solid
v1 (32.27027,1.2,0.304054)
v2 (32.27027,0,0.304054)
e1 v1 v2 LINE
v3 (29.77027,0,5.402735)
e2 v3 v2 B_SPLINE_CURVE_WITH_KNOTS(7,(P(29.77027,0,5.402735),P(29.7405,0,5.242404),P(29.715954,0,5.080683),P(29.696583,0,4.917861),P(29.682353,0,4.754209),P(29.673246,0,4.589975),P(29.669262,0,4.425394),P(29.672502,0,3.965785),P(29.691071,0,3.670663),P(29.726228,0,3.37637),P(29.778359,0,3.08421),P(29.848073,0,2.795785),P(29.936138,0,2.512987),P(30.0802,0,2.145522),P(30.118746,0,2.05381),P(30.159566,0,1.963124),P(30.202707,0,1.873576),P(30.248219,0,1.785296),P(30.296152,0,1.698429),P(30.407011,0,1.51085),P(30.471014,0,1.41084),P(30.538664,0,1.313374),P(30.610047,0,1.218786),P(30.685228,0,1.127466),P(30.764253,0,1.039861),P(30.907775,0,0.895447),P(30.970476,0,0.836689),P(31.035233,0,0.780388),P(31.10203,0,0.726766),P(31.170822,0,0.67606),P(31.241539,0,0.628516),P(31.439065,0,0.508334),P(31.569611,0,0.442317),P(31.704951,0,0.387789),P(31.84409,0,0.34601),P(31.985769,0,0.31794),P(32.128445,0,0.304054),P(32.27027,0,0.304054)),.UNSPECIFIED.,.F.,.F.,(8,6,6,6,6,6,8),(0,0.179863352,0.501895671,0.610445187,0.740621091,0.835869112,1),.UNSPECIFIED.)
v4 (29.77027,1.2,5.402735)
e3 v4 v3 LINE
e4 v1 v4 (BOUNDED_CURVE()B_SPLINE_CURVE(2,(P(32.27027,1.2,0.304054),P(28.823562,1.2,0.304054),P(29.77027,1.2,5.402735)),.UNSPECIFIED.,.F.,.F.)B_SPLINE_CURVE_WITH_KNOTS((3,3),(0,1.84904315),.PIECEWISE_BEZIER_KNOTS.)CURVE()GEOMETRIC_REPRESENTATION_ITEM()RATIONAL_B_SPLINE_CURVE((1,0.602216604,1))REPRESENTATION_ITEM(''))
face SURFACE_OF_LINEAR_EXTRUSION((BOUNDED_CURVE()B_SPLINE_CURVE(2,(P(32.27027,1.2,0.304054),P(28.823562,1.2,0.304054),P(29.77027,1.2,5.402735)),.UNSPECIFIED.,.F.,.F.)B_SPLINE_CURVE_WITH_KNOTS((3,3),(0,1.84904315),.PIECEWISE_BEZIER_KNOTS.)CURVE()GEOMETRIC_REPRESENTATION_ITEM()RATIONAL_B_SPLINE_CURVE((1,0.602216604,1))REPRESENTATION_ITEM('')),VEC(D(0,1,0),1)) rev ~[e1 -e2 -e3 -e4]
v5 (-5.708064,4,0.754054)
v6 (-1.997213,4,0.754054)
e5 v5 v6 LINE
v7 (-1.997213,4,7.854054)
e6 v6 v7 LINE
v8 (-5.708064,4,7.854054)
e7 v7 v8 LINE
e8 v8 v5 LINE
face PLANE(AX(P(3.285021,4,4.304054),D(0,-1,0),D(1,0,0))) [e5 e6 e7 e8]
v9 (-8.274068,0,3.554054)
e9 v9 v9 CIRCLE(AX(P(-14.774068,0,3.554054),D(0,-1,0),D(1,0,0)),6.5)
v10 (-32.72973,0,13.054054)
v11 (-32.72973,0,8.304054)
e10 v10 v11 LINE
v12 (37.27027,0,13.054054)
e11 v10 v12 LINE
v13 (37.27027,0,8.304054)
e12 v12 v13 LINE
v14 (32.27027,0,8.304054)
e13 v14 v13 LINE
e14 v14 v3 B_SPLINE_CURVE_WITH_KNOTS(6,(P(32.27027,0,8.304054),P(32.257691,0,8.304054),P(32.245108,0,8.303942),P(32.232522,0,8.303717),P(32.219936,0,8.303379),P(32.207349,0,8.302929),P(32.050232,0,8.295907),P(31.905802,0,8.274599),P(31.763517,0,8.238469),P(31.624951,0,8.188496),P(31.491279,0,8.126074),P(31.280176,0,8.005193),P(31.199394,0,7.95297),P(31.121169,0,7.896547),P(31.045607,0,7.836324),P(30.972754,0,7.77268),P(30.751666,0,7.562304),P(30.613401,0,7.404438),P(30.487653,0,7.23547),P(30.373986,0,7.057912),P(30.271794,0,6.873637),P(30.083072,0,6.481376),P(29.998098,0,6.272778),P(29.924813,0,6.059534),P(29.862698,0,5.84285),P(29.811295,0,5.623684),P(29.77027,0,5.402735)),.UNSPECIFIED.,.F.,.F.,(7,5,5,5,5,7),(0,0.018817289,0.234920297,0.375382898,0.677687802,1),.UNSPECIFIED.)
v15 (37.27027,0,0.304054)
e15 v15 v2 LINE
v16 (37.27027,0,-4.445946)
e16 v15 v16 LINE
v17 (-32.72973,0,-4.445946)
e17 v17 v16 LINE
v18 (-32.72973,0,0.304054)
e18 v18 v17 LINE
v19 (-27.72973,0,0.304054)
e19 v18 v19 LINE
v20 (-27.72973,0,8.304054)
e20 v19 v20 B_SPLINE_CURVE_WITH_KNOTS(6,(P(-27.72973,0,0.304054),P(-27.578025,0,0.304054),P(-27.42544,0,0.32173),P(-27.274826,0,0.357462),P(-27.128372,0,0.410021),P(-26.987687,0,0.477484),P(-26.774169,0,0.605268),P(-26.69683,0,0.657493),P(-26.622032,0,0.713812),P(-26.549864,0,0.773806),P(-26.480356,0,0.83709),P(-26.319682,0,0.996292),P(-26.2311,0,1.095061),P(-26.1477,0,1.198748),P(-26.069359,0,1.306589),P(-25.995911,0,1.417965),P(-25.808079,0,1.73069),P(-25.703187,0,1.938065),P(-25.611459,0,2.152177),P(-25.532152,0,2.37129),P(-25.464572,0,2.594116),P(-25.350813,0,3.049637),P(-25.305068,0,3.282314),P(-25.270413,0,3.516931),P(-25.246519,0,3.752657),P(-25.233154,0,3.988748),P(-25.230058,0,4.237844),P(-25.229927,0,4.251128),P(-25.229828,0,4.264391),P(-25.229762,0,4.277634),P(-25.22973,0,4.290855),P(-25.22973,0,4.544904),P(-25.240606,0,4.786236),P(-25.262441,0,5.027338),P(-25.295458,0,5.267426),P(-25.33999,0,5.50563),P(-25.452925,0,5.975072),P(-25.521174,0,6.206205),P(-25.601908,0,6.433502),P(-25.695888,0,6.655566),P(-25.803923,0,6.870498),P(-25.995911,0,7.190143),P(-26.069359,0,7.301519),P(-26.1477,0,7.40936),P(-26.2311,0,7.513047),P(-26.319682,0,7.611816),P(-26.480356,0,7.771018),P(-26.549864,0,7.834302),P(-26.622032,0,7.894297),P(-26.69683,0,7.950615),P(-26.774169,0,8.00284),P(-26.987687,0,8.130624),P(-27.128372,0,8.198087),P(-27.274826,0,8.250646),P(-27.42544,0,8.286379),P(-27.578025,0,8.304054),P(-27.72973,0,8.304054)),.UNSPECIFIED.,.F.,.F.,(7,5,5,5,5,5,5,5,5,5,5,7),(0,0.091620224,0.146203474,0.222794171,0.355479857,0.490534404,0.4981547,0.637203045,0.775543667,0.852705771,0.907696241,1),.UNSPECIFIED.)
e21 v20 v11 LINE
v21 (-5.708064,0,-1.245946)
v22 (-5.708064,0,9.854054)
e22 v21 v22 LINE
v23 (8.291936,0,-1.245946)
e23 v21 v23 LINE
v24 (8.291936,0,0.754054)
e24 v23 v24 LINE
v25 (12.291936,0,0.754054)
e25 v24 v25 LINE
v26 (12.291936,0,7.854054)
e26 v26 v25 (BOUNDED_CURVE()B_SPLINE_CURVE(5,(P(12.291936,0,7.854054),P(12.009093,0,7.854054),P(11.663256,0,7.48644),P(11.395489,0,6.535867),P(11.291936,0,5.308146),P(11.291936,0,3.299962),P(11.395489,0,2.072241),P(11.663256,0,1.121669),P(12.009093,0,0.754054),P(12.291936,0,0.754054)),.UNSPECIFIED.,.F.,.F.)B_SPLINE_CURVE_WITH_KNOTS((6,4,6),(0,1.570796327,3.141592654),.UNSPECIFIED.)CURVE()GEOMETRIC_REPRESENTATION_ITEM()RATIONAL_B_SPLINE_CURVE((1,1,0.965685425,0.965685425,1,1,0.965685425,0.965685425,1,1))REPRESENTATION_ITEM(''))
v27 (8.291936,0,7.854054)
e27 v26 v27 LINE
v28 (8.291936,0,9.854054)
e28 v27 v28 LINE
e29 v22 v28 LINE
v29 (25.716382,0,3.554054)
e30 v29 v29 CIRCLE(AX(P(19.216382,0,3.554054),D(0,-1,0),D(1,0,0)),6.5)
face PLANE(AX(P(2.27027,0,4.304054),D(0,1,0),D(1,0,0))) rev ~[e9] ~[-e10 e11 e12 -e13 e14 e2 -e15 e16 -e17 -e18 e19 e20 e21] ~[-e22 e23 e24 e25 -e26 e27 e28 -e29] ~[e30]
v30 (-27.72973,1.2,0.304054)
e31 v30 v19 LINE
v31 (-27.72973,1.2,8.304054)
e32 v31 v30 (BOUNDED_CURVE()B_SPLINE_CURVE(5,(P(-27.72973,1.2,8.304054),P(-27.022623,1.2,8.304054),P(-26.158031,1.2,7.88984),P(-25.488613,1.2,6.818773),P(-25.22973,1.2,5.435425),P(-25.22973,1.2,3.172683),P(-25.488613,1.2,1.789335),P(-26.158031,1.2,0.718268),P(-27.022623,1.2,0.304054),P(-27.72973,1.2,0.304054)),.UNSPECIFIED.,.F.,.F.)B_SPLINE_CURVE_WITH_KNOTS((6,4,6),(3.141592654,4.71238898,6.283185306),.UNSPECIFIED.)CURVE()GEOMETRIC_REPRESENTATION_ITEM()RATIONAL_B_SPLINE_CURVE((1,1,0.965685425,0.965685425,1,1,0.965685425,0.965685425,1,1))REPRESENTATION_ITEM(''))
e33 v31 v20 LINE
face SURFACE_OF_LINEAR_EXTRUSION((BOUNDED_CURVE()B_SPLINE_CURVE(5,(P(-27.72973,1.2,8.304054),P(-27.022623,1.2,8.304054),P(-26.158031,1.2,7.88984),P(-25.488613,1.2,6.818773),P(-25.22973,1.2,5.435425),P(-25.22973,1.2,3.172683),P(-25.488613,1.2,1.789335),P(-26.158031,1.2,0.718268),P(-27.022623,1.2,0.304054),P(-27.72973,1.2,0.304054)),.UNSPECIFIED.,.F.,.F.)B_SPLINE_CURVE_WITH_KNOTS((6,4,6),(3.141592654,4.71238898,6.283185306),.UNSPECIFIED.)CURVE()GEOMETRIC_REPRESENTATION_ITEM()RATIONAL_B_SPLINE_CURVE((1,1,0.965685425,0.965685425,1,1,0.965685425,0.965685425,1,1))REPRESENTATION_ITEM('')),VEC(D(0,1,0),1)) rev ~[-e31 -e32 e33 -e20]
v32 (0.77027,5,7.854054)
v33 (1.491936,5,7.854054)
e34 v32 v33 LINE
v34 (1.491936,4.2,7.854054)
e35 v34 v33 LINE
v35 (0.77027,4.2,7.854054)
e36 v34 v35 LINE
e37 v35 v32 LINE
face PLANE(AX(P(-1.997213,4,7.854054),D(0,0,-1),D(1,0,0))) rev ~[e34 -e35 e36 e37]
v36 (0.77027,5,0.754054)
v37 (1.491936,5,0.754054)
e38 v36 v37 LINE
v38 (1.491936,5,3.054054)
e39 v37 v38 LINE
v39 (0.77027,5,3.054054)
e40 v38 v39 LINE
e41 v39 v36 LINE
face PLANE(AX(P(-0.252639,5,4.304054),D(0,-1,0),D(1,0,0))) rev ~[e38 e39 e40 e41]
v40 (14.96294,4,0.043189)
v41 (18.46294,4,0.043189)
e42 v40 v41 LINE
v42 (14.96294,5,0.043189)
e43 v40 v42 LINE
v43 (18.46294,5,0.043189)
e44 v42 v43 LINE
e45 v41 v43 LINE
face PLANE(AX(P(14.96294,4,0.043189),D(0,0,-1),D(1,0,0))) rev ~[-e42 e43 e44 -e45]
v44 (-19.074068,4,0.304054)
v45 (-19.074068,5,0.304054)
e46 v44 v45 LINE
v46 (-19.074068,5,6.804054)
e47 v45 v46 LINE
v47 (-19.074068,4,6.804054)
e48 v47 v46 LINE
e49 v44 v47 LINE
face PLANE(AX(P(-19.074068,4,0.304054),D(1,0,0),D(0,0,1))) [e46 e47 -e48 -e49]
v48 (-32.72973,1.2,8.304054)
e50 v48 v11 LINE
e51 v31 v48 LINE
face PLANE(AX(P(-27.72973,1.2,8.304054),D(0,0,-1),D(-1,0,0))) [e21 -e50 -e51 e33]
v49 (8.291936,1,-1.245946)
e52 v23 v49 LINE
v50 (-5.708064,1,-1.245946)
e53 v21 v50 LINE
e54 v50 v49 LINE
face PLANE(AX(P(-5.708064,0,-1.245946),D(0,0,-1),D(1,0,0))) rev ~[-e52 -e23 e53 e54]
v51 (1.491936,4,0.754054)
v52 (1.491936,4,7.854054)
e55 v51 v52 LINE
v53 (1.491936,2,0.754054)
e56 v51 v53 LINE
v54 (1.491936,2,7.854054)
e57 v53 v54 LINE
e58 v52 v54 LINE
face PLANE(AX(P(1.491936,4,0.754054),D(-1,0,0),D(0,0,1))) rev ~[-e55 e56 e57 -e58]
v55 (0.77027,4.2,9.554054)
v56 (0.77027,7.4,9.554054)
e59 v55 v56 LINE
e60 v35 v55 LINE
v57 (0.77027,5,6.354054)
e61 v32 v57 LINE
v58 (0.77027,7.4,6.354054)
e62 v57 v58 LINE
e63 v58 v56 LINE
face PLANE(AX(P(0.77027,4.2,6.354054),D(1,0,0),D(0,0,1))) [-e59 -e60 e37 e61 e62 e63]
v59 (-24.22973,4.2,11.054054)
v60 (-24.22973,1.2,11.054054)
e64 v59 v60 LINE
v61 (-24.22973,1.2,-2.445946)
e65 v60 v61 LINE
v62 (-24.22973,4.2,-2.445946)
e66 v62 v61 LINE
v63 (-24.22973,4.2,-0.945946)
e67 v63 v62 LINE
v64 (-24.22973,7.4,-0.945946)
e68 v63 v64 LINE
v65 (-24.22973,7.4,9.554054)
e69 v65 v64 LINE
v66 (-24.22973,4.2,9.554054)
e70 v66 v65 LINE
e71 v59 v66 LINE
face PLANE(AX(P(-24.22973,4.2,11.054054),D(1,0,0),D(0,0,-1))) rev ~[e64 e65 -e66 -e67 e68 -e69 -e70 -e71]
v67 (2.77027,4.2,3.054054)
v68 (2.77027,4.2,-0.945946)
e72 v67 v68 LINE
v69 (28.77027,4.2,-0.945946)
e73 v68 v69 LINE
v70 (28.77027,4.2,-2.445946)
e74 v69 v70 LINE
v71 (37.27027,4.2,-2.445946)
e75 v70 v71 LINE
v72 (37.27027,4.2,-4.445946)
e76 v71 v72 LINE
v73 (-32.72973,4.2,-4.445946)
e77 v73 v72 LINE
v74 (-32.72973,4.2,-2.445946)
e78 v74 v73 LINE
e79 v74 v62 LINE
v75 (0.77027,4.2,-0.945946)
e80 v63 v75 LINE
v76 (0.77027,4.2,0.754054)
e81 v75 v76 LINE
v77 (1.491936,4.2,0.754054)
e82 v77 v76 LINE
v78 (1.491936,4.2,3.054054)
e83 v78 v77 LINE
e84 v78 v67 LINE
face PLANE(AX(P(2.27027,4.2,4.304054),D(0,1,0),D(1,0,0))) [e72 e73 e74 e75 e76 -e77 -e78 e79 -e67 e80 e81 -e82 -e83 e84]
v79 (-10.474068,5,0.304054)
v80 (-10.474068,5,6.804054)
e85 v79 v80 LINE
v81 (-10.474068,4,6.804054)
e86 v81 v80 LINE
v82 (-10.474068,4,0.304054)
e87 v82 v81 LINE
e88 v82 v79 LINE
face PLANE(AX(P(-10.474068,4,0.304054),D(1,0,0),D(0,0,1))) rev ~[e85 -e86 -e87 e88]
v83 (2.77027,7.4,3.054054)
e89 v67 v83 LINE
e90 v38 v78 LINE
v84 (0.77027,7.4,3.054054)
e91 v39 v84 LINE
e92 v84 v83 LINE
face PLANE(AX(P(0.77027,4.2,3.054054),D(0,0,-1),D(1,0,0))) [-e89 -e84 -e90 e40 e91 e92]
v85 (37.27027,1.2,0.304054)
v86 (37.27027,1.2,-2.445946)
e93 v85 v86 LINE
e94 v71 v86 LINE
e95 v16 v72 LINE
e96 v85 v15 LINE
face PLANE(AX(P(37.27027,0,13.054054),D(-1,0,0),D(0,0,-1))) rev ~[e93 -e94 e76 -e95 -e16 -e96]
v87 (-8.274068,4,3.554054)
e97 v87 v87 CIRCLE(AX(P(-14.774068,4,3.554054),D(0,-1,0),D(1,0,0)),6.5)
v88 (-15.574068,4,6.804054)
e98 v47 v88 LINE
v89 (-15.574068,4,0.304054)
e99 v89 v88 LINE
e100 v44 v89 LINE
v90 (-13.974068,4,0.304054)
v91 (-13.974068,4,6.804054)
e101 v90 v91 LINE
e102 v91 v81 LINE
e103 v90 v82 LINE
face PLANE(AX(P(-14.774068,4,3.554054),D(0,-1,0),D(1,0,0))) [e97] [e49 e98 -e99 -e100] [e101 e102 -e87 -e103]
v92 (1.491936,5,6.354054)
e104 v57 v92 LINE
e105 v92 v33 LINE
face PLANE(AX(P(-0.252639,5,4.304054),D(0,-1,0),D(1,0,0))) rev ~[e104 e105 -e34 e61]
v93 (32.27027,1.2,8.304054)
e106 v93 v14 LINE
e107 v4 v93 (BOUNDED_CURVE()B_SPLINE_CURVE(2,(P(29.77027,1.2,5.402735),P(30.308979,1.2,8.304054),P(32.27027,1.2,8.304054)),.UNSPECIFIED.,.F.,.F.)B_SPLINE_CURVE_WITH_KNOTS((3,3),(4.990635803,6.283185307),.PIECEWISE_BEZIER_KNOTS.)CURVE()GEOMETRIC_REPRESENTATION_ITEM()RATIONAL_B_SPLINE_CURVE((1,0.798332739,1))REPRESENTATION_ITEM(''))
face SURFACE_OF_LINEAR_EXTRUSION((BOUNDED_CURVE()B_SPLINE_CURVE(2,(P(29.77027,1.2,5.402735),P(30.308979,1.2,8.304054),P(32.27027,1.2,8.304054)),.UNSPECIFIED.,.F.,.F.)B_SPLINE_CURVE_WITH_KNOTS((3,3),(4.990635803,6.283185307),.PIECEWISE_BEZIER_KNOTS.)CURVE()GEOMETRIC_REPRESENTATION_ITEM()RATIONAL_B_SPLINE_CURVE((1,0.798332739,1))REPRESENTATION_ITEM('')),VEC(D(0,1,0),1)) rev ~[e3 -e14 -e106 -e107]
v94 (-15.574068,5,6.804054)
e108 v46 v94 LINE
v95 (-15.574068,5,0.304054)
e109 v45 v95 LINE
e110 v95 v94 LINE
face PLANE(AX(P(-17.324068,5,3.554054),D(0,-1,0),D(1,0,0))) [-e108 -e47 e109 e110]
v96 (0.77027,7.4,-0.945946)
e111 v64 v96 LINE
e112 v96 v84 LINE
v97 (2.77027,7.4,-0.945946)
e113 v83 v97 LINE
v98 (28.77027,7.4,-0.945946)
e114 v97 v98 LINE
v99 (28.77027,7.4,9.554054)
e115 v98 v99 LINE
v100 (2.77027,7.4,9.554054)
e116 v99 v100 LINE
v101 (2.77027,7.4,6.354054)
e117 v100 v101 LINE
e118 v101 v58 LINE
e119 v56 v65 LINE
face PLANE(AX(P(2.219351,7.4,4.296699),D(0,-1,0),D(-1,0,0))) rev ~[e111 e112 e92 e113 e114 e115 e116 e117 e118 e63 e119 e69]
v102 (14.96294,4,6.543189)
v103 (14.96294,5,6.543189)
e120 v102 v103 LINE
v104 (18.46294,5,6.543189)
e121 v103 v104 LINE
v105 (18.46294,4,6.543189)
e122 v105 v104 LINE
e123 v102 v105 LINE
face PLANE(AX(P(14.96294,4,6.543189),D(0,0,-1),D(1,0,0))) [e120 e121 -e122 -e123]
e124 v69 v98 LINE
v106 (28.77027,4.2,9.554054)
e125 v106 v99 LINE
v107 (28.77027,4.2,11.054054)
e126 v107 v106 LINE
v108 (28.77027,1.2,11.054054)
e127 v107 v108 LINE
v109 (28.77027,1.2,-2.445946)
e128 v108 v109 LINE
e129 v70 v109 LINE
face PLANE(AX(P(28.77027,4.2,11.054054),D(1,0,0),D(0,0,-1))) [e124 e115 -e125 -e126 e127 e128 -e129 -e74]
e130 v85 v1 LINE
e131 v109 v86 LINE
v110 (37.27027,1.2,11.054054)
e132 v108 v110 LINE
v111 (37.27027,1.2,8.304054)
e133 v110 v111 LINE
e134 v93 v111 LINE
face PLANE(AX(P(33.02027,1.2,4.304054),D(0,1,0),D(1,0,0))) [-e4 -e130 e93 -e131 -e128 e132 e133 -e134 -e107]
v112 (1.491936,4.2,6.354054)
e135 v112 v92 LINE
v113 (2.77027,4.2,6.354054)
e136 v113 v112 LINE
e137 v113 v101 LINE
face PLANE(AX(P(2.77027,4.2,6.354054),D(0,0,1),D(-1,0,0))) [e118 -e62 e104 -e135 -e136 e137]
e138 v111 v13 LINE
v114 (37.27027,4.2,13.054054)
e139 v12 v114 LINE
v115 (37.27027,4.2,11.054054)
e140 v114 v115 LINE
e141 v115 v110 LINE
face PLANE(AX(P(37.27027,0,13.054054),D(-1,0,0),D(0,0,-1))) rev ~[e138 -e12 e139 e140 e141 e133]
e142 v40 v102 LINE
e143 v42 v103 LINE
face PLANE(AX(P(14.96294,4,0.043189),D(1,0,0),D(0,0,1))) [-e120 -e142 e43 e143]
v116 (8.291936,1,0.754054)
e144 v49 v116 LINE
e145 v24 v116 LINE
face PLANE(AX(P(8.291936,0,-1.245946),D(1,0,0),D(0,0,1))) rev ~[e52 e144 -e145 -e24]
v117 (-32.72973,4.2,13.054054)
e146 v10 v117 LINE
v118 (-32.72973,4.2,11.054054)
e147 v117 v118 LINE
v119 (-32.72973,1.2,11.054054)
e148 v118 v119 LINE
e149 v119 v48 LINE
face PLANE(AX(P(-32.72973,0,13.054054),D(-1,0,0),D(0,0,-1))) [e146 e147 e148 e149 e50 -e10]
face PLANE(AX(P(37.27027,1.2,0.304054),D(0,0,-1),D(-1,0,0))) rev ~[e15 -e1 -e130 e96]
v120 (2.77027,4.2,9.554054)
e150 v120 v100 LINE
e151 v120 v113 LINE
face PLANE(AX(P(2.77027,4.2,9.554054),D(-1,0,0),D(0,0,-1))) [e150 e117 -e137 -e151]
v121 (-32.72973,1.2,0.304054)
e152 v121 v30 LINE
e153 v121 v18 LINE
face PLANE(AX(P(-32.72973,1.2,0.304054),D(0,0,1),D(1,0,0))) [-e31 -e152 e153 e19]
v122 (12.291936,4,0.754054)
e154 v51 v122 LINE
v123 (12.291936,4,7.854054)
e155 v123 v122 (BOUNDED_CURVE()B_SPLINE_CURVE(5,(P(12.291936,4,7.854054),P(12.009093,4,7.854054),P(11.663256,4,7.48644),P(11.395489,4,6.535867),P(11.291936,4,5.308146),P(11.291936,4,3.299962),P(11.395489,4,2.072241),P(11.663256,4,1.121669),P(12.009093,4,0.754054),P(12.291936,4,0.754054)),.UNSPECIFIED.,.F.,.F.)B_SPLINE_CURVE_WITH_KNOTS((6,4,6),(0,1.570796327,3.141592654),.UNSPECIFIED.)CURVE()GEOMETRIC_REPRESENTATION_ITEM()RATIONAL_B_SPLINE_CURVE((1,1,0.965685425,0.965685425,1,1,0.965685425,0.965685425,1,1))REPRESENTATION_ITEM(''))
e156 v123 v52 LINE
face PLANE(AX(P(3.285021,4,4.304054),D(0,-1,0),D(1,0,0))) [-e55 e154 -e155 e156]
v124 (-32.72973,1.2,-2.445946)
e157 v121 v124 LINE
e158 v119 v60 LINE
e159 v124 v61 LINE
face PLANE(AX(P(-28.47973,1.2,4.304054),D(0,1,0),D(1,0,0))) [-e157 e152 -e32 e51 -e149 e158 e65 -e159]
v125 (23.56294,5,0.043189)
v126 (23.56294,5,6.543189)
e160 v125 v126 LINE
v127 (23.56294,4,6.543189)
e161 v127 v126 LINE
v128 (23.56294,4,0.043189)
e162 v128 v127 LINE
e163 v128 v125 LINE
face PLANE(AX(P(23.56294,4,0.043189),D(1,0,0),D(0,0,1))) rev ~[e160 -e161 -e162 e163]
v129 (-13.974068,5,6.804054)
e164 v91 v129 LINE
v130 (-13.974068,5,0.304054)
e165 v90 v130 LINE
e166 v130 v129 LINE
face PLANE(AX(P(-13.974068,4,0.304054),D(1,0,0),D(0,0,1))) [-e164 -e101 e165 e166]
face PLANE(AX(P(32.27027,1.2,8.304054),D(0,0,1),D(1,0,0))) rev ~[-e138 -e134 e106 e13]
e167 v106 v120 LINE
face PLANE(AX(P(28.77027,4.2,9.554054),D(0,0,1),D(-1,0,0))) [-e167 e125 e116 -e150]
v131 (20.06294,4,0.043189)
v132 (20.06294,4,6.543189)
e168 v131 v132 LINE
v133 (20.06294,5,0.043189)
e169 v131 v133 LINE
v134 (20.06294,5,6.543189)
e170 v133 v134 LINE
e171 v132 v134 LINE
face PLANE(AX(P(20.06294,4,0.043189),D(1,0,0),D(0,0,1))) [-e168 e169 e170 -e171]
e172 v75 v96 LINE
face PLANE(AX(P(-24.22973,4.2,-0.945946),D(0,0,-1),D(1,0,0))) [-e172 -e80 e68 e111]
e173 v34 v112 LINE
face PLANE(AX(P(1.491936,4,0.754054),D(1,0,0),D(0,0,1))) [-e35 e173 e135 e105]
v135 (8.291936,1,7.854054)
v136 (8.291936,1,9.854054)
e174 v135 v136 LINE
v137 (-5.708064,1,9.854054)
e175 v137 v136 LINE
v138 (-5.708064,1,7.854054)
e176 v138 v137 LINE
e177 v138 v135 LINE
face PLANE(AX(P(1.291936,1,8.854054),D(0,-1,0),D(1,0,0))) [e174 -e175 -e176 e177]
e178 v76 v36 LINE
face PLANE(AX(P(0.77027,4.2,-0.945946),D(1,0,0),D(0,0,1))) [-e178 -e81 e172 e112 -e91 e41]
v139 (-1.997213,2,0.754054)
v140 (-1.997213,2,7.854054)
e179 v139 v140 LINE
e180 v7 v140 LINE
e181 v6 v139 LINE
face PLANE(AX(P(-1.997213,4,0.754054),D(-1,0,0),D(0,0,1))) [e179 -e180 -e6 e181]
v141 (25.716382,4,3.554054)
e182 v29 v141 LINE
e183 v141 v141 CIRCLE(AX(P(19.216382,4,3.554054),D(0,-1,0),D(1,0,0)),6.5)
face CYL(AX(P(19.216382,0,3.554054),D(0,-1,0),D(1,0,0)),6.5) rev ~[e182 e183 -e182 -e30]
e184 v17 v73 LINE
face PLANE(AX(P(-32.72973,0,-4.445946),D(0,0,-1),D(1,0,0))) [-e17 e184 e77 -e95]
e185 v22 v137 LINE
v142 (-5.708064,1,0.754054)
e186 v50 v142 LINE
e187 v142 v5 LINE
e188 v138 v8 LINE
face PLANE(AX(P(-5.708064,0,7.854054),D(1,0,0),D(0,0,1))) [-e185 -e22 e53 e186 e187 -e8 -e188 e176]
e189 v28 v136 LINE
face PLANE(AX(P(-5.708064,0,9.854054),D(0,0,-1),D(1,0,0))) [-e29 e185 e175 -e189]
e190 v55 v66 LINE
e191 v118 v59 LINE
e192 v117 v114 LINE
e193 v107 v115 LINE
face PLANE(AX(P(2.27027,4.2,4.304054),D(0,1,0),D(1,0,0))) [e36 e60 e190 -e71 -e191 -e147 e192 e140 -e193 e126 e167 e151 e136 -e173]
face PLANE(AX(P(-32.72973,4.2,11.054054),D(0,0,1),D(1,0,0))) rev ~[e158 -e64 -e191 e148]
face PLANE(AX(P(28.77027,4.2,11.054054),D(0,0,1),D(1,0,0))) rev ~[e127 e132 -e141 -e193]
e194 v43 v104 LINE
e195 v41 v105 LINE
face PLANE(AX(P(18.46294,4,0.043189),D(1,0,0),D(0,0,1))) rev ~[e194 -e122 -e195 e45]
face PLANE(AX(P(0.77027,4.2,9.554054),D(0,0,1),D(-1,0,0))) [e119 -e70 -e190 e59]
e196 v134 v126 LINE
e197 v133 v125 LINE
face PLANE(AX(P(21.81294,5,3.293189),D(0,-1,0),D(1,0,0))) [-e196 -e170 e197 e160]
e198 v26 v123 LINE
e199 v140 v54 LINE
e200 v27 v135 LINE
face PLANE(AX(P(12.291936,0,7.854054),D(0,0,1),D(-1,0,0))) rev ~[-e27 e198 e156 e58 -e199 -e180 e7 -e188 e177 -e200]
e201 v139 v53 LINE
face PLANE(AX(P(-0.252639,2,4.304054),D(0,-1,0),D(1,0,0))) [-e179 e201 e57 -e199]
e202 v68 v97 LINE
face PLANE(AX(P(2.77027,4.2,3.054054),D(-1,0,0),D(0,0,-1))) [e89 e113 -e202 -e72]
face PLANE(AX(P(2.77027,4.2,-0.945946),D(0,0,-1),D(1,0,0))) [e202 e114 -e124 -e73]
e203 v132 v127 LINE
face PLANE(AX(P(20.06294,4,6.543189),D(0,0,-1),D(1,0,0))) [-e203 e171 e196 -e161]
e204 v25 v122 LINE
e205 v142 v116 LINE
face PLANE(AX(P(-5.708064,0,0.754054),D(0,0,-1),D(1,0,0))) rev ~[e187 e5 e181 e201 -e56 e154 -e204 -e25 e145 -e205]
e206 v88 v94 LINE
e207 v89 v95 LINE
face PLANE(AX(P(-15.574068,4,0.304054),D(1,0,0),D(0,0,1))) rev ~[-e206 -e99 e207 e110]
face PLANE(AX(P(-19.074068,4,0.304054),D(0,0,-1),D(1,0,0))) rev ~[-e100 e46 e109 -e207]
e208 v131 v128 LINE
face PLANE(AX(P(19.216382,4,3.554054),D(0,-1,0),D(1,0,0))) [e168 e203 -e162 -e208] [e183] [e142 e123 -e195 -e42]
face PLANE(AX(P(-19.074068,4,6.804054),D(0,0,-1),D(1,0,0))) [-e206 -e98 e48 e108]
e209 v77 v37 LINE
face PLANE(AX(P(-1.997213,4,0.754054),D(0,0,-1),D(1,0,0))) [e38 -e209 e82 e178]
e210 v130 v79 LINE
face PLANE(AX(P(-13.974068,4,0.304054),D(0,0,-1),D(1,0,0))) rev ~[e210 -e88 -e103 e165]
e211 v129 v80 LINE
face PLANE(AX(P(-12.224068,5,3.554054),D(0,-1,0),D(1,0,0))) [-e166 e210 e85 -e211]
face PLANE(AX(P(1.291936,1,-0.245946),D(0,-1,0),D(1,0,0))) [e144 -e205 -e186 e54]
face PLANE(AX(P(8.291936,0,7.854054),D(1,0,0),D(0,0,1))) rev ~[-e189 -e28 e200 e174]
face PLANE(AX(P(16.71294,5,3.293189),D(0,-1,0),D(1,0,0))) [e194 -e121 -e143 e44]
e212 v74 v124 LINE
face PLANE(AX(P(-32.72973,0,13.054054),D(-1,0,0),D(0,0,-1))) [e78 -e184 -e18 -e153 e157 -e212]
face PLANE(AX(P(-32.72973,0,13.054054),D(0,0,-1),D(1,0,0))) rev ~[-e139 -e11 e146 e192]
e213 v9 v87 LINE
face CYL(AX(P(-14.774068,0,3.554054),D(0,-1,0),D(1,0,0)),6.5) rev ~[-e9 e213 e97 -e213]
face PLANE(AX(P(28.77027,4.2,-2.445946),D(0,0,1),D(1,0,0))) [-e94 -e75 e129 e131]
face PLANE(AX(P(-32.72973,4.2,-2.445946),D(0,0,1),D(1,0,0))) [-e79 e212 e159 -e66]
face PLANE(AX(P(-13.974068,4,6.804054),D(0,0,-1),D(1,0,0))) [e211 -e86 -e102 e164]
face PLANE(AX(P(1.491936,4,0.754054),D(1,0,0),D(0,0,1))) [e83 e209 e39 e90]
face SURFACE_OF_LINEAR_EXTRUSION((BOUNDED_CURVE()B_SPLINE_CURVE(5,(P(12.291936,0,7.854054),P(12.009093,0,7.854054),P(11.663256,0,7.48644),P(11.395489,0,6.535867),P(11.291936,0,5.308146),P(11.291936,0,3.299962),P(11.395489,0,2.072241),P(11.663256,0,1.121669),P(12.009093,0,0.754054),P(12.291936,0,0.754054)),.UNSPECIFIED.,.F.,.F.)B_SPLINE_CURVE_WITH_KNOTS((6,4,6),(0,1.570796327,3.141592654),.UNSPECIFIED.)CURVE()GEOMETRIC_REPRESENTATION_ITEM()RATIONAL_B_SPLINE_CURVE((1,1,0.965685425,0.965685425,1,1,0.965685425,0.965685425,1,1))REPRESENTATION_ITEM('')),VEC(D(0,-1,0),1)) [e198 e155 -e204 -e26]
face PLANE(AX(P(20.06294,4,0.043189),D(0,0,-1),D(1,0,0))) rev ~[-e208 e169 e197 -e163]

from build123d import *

# Parameters (mm, degrees)
CROQUIS1_W                   = 70
CROQUIS1_H                   = 17.5
SALIENTE_EXTRUIR1_DEPTH      = 4.2
CROQUIS2_W                   = 8.5
CROQUIS2_H                   = 13.5
CORTAR_EXTRUIR1_DEPTH        = 3
CORTAR_EXTRUIR2_DEPTH        = 2.2
SALIENTE_EXTRUIR2_DEPTH      = 3.2
CROQUIS5_R                   = 6.5
CORTAR_EXTRUIR3_DEPTH        = 4
CROQUIS6_W                   = 3.5
CROQUIS6_H                   = 6.5
CORTAR_EXTRUIR4_DEPTH        = 1
CROQUIS7_W                   = 14
CROQUIS7_H                   = 2
CORTAR_EXTRUIR5_DEPTH        = 1
CORTAR_EXTRUIR6_DEPTH        = 4
CROQUIS9_W                   = 3.489148649
CROQUIS9_H                   = 7.1
SALIENTE_EXTRUIR3_DEPTH      = 2
SALIENTE_EXTRUIR3_DEPTH_BACK = 1


with BuildPart() as part:
    # Croquis1 → Saliente-Extruir1 (new body)
    with BuildSketch(Plane(origin=(0, 0, 0), x_dir=(1, 0, 0), z_dir=(0, 1, 0))):
        with Locations((2.27027027, -4.304054054)):
            Rectangle(CROQUIS1_W, CROQUIS1_H)
    extrude(amount=SALIENTE_EXTRUIR1_DEPTH)

    # Croquis2 → Cortar-Extruir1 (cut)
    with BuildSketch(Plane(origin=(0, 4.2, 0), x_dir=(1, 0, 0), z_dir=(0, 1, 0))):
        with Locations((33.02027027, -4.304054054)):
            Rectangle(CROQUIS2_W, CROQUIS2_H)
        with Locations((-28.47972973, -4.304054054)):
            Rectangle(CROQUIS2_W, CROQUIS2_H)
    extrude(amount=-CORTAR_EXTRUIR1_DEPTH, mode=Mode.SUBTRACT)

    # Croquis3 → Cortar-Extruir2 (cut, through all)
    with BuildSketch(Plane(origin=(0, 1.2, 0), x_dir=(1, 0, 0), z_dir=(0, 1, 0))):
        with BuildLine():
            Line((37.27027027, -0.304054054), (32.27027027, -0.304054054))
            add(Edge.make_bspline(
                [(32.27027027, -0.304054054), (28.823561714, -0.304054054), (29.77027027, -5.402735351)],
                knots=[0, 0, 0, 1.84904315, 1.84904315, 1.84904315], degree=2, weights=[1, 0.602216604, 1]))
            add(Edge.make_bspline(
                [(29.77027027, -5.402735351), (30.308978827, -8.304054054), (32.27027027, -8.304054054)],
                knots=[4.990635803, 4.990635803, 4.990635803, 6.283185307, 6.283185307, 6.283185307], degree=2, weights=[1, 0.798332739, 1]))
            Line((32.27027027, -8.304054054), (37.27027027, -8.304054054))
            Line((37.27027027, -8.304054054), (37.27027027, -0.304054054))
        make_face()
        with BuildLine():
            Line((-32.72972973, -0.304054054), (-27.72972973, -0.304054054))
            add(Edge.make_bspline(
                [(-25.22972973, -4.304054054), (-25.22972973, -0.304054054), (-27.72972973, -0.304054054)],
                knots=[4.71238898, 4.71238898, 4.71238898, 6.283185307, 6.283185307, 6.283185307], degree=2, weights=[1, 0.707106781, 1]))
            add(Edge.make_bspline(
                [(-27.72972973, -8.304054054), (-25.22972973, -8.304054054), (-25.22972973, -4.304054054)],
                knots=[3.141592654, 3.141592654, 3.141592654, 4.71238898, 4.71238898, 4.71238898], degree=2, weights=[1, 0.707106781, 1]))
            Line((-27.72972973, -8.304054054), (-32.72972973, -8.304054054))
            Line((-32.72972973, -8.304054054), (-32.72972973, -0.304054054))
        make_face()
    extrude(amount=-CORTAR_EXTRUIR2_DEPTH, mode=Mode.SUBTRACT)

    # Croquis4 → Saliente-Extruir2 (add)
    with BuildSketch(Plane(origin=(0, 4.2, 0), x_dir=(1, 0, 0), z_dir=(0, 1, 0))):
        Polygon((-24.22972973, 0.945945946), (0.77027027, 0.945945946), (0.77027027, -3.054054054), (2.77027027, -3.054054054), (2.77027027, 0.945945946), (28.77027027, 0.945945946), (28.77027027, -9.554054054), (2.77027027, -9.554054054), (2.77027027, -6.354054054), (0.77027027, -6.354054054), (0.77027027, -9.554054054), (-24.22972973, -9.554054054), align=None)
    extrude(amount=SALIENTE_EXTRUIR2_DEPTH)

    # Croquis5 → Cortar-Extruir3 (cut)
    with BuildSketch(Plane.XZ):
        with Locations((-14.774068223, 3.554054054)):
            Circle(CROQUIS5_R)
        with Locations((19.216382303, 3.554054054)):
            Circle(CROQUIS5_R)
    extrude(amount=-CORTAR_EXTRUIR3_DEPTH, mode=Mode.SUBTRACT)

    # Croquis6 → Cortar-Extruir4 (cut)
    with BuildSketch(Plane.XZ.offset(-4)):
        with Locations((-17.324068223, 3.554054054)):
            Rectangle(CROQUIS6_W, CROQUIS6_H)
        with Locations((-12.224068223, 3.554054054)):
            Rectangle(CROQUIS6_W, CROQUIS6_H)
        with Locations((16.712940217, 3.293189119)):
            Rectangle(CROQUIS6_W, CROQUIS6_H)
        with Locations((21.812940217, 3.293189119)):
            Rectangle(CROQUIS6_W, CROQUIS6_H)
    extrude(amount=-CORTAR_EXTRUIR4_DEPTH, mode=Mode.SUBTRACT)

    # Croquis7 → Cortar-Extruir5 (cut)
    with BuildSketch(Plane.XZ):
        with Locations((1.291935528, -0.245945946)):
            Rectangle(CROQUIS7_W, CROQUIS7_H)
        with Locations((1.291935528, 8.854054054)):
            Rectangle(CROQUIS7_W, CROQUIS7_H)
    extrude(amount=-CORTAR_EXTRUIR5_DEPTH, mode=Mode.SUBTRACT)

    # Croquis8 → Cortar-Extruir6 (cut)
    with BuildSketch(Plane.XZ):
        with BuildLine():
            Line((-5.708064472, 7.854054054), (-5.708064472, 0.754054054))
            Line((-5.708064472, 0.754054054), (8.291935528, 0.754054054))
            Line((8.291935528, 0.754054054), (12.291935528, 0.754054054))
            add(Edge.make_bspline(
                [(11.291935528, 4.304054054), (11.291935528, 0.754054054), (12.291935528, 0.754054054)],
                knots=[1.570796327, 1.570796327, 1.570796327, 3.141592654, 3.141592654, 3.141592654], degree=2, weights=[1, 0.707106781, 1]))
            add(Edge.make_bspline(
                [(12.291935528, 7.854054054), (11.291935528, 7.854054054), (11.291935528, 4.304054054)],
                knots=[0, 0, 0, 1.570796327, 1.570796327, 1.570796327], degree=2, weights=[1, 0.707106781, 1]))
            Line((12.291935528, 7.854054054), (8.291935528, 7.854054054))
            Line((8.291935528, 7.854054054), (-5.708064472, 7.854054054))
        make_face()
    extrude(amount=-CORTAR_EXTRUIR6_DEPTH, mode=Mode.SUBTRACT)

    # Croquis9 → Saliente-Extruir3 (add, two sides)
    with BuildSketch(Plane.XZ.offset(-4)) as saliente_extruir3_sk:
        with Locations((-0.252638796, 4.304054054)):
            Rectangle(CROQUIS9_W, CROQUIS9_H)
    extrude(amount=SALIENTE_EXTRUIR3_DEPTH)
    extrude(saliente_extruir3_sk.sketch, amount=-SALIENTE_EXTRUIR3_DEPTH_BACK)


solid = part.part
